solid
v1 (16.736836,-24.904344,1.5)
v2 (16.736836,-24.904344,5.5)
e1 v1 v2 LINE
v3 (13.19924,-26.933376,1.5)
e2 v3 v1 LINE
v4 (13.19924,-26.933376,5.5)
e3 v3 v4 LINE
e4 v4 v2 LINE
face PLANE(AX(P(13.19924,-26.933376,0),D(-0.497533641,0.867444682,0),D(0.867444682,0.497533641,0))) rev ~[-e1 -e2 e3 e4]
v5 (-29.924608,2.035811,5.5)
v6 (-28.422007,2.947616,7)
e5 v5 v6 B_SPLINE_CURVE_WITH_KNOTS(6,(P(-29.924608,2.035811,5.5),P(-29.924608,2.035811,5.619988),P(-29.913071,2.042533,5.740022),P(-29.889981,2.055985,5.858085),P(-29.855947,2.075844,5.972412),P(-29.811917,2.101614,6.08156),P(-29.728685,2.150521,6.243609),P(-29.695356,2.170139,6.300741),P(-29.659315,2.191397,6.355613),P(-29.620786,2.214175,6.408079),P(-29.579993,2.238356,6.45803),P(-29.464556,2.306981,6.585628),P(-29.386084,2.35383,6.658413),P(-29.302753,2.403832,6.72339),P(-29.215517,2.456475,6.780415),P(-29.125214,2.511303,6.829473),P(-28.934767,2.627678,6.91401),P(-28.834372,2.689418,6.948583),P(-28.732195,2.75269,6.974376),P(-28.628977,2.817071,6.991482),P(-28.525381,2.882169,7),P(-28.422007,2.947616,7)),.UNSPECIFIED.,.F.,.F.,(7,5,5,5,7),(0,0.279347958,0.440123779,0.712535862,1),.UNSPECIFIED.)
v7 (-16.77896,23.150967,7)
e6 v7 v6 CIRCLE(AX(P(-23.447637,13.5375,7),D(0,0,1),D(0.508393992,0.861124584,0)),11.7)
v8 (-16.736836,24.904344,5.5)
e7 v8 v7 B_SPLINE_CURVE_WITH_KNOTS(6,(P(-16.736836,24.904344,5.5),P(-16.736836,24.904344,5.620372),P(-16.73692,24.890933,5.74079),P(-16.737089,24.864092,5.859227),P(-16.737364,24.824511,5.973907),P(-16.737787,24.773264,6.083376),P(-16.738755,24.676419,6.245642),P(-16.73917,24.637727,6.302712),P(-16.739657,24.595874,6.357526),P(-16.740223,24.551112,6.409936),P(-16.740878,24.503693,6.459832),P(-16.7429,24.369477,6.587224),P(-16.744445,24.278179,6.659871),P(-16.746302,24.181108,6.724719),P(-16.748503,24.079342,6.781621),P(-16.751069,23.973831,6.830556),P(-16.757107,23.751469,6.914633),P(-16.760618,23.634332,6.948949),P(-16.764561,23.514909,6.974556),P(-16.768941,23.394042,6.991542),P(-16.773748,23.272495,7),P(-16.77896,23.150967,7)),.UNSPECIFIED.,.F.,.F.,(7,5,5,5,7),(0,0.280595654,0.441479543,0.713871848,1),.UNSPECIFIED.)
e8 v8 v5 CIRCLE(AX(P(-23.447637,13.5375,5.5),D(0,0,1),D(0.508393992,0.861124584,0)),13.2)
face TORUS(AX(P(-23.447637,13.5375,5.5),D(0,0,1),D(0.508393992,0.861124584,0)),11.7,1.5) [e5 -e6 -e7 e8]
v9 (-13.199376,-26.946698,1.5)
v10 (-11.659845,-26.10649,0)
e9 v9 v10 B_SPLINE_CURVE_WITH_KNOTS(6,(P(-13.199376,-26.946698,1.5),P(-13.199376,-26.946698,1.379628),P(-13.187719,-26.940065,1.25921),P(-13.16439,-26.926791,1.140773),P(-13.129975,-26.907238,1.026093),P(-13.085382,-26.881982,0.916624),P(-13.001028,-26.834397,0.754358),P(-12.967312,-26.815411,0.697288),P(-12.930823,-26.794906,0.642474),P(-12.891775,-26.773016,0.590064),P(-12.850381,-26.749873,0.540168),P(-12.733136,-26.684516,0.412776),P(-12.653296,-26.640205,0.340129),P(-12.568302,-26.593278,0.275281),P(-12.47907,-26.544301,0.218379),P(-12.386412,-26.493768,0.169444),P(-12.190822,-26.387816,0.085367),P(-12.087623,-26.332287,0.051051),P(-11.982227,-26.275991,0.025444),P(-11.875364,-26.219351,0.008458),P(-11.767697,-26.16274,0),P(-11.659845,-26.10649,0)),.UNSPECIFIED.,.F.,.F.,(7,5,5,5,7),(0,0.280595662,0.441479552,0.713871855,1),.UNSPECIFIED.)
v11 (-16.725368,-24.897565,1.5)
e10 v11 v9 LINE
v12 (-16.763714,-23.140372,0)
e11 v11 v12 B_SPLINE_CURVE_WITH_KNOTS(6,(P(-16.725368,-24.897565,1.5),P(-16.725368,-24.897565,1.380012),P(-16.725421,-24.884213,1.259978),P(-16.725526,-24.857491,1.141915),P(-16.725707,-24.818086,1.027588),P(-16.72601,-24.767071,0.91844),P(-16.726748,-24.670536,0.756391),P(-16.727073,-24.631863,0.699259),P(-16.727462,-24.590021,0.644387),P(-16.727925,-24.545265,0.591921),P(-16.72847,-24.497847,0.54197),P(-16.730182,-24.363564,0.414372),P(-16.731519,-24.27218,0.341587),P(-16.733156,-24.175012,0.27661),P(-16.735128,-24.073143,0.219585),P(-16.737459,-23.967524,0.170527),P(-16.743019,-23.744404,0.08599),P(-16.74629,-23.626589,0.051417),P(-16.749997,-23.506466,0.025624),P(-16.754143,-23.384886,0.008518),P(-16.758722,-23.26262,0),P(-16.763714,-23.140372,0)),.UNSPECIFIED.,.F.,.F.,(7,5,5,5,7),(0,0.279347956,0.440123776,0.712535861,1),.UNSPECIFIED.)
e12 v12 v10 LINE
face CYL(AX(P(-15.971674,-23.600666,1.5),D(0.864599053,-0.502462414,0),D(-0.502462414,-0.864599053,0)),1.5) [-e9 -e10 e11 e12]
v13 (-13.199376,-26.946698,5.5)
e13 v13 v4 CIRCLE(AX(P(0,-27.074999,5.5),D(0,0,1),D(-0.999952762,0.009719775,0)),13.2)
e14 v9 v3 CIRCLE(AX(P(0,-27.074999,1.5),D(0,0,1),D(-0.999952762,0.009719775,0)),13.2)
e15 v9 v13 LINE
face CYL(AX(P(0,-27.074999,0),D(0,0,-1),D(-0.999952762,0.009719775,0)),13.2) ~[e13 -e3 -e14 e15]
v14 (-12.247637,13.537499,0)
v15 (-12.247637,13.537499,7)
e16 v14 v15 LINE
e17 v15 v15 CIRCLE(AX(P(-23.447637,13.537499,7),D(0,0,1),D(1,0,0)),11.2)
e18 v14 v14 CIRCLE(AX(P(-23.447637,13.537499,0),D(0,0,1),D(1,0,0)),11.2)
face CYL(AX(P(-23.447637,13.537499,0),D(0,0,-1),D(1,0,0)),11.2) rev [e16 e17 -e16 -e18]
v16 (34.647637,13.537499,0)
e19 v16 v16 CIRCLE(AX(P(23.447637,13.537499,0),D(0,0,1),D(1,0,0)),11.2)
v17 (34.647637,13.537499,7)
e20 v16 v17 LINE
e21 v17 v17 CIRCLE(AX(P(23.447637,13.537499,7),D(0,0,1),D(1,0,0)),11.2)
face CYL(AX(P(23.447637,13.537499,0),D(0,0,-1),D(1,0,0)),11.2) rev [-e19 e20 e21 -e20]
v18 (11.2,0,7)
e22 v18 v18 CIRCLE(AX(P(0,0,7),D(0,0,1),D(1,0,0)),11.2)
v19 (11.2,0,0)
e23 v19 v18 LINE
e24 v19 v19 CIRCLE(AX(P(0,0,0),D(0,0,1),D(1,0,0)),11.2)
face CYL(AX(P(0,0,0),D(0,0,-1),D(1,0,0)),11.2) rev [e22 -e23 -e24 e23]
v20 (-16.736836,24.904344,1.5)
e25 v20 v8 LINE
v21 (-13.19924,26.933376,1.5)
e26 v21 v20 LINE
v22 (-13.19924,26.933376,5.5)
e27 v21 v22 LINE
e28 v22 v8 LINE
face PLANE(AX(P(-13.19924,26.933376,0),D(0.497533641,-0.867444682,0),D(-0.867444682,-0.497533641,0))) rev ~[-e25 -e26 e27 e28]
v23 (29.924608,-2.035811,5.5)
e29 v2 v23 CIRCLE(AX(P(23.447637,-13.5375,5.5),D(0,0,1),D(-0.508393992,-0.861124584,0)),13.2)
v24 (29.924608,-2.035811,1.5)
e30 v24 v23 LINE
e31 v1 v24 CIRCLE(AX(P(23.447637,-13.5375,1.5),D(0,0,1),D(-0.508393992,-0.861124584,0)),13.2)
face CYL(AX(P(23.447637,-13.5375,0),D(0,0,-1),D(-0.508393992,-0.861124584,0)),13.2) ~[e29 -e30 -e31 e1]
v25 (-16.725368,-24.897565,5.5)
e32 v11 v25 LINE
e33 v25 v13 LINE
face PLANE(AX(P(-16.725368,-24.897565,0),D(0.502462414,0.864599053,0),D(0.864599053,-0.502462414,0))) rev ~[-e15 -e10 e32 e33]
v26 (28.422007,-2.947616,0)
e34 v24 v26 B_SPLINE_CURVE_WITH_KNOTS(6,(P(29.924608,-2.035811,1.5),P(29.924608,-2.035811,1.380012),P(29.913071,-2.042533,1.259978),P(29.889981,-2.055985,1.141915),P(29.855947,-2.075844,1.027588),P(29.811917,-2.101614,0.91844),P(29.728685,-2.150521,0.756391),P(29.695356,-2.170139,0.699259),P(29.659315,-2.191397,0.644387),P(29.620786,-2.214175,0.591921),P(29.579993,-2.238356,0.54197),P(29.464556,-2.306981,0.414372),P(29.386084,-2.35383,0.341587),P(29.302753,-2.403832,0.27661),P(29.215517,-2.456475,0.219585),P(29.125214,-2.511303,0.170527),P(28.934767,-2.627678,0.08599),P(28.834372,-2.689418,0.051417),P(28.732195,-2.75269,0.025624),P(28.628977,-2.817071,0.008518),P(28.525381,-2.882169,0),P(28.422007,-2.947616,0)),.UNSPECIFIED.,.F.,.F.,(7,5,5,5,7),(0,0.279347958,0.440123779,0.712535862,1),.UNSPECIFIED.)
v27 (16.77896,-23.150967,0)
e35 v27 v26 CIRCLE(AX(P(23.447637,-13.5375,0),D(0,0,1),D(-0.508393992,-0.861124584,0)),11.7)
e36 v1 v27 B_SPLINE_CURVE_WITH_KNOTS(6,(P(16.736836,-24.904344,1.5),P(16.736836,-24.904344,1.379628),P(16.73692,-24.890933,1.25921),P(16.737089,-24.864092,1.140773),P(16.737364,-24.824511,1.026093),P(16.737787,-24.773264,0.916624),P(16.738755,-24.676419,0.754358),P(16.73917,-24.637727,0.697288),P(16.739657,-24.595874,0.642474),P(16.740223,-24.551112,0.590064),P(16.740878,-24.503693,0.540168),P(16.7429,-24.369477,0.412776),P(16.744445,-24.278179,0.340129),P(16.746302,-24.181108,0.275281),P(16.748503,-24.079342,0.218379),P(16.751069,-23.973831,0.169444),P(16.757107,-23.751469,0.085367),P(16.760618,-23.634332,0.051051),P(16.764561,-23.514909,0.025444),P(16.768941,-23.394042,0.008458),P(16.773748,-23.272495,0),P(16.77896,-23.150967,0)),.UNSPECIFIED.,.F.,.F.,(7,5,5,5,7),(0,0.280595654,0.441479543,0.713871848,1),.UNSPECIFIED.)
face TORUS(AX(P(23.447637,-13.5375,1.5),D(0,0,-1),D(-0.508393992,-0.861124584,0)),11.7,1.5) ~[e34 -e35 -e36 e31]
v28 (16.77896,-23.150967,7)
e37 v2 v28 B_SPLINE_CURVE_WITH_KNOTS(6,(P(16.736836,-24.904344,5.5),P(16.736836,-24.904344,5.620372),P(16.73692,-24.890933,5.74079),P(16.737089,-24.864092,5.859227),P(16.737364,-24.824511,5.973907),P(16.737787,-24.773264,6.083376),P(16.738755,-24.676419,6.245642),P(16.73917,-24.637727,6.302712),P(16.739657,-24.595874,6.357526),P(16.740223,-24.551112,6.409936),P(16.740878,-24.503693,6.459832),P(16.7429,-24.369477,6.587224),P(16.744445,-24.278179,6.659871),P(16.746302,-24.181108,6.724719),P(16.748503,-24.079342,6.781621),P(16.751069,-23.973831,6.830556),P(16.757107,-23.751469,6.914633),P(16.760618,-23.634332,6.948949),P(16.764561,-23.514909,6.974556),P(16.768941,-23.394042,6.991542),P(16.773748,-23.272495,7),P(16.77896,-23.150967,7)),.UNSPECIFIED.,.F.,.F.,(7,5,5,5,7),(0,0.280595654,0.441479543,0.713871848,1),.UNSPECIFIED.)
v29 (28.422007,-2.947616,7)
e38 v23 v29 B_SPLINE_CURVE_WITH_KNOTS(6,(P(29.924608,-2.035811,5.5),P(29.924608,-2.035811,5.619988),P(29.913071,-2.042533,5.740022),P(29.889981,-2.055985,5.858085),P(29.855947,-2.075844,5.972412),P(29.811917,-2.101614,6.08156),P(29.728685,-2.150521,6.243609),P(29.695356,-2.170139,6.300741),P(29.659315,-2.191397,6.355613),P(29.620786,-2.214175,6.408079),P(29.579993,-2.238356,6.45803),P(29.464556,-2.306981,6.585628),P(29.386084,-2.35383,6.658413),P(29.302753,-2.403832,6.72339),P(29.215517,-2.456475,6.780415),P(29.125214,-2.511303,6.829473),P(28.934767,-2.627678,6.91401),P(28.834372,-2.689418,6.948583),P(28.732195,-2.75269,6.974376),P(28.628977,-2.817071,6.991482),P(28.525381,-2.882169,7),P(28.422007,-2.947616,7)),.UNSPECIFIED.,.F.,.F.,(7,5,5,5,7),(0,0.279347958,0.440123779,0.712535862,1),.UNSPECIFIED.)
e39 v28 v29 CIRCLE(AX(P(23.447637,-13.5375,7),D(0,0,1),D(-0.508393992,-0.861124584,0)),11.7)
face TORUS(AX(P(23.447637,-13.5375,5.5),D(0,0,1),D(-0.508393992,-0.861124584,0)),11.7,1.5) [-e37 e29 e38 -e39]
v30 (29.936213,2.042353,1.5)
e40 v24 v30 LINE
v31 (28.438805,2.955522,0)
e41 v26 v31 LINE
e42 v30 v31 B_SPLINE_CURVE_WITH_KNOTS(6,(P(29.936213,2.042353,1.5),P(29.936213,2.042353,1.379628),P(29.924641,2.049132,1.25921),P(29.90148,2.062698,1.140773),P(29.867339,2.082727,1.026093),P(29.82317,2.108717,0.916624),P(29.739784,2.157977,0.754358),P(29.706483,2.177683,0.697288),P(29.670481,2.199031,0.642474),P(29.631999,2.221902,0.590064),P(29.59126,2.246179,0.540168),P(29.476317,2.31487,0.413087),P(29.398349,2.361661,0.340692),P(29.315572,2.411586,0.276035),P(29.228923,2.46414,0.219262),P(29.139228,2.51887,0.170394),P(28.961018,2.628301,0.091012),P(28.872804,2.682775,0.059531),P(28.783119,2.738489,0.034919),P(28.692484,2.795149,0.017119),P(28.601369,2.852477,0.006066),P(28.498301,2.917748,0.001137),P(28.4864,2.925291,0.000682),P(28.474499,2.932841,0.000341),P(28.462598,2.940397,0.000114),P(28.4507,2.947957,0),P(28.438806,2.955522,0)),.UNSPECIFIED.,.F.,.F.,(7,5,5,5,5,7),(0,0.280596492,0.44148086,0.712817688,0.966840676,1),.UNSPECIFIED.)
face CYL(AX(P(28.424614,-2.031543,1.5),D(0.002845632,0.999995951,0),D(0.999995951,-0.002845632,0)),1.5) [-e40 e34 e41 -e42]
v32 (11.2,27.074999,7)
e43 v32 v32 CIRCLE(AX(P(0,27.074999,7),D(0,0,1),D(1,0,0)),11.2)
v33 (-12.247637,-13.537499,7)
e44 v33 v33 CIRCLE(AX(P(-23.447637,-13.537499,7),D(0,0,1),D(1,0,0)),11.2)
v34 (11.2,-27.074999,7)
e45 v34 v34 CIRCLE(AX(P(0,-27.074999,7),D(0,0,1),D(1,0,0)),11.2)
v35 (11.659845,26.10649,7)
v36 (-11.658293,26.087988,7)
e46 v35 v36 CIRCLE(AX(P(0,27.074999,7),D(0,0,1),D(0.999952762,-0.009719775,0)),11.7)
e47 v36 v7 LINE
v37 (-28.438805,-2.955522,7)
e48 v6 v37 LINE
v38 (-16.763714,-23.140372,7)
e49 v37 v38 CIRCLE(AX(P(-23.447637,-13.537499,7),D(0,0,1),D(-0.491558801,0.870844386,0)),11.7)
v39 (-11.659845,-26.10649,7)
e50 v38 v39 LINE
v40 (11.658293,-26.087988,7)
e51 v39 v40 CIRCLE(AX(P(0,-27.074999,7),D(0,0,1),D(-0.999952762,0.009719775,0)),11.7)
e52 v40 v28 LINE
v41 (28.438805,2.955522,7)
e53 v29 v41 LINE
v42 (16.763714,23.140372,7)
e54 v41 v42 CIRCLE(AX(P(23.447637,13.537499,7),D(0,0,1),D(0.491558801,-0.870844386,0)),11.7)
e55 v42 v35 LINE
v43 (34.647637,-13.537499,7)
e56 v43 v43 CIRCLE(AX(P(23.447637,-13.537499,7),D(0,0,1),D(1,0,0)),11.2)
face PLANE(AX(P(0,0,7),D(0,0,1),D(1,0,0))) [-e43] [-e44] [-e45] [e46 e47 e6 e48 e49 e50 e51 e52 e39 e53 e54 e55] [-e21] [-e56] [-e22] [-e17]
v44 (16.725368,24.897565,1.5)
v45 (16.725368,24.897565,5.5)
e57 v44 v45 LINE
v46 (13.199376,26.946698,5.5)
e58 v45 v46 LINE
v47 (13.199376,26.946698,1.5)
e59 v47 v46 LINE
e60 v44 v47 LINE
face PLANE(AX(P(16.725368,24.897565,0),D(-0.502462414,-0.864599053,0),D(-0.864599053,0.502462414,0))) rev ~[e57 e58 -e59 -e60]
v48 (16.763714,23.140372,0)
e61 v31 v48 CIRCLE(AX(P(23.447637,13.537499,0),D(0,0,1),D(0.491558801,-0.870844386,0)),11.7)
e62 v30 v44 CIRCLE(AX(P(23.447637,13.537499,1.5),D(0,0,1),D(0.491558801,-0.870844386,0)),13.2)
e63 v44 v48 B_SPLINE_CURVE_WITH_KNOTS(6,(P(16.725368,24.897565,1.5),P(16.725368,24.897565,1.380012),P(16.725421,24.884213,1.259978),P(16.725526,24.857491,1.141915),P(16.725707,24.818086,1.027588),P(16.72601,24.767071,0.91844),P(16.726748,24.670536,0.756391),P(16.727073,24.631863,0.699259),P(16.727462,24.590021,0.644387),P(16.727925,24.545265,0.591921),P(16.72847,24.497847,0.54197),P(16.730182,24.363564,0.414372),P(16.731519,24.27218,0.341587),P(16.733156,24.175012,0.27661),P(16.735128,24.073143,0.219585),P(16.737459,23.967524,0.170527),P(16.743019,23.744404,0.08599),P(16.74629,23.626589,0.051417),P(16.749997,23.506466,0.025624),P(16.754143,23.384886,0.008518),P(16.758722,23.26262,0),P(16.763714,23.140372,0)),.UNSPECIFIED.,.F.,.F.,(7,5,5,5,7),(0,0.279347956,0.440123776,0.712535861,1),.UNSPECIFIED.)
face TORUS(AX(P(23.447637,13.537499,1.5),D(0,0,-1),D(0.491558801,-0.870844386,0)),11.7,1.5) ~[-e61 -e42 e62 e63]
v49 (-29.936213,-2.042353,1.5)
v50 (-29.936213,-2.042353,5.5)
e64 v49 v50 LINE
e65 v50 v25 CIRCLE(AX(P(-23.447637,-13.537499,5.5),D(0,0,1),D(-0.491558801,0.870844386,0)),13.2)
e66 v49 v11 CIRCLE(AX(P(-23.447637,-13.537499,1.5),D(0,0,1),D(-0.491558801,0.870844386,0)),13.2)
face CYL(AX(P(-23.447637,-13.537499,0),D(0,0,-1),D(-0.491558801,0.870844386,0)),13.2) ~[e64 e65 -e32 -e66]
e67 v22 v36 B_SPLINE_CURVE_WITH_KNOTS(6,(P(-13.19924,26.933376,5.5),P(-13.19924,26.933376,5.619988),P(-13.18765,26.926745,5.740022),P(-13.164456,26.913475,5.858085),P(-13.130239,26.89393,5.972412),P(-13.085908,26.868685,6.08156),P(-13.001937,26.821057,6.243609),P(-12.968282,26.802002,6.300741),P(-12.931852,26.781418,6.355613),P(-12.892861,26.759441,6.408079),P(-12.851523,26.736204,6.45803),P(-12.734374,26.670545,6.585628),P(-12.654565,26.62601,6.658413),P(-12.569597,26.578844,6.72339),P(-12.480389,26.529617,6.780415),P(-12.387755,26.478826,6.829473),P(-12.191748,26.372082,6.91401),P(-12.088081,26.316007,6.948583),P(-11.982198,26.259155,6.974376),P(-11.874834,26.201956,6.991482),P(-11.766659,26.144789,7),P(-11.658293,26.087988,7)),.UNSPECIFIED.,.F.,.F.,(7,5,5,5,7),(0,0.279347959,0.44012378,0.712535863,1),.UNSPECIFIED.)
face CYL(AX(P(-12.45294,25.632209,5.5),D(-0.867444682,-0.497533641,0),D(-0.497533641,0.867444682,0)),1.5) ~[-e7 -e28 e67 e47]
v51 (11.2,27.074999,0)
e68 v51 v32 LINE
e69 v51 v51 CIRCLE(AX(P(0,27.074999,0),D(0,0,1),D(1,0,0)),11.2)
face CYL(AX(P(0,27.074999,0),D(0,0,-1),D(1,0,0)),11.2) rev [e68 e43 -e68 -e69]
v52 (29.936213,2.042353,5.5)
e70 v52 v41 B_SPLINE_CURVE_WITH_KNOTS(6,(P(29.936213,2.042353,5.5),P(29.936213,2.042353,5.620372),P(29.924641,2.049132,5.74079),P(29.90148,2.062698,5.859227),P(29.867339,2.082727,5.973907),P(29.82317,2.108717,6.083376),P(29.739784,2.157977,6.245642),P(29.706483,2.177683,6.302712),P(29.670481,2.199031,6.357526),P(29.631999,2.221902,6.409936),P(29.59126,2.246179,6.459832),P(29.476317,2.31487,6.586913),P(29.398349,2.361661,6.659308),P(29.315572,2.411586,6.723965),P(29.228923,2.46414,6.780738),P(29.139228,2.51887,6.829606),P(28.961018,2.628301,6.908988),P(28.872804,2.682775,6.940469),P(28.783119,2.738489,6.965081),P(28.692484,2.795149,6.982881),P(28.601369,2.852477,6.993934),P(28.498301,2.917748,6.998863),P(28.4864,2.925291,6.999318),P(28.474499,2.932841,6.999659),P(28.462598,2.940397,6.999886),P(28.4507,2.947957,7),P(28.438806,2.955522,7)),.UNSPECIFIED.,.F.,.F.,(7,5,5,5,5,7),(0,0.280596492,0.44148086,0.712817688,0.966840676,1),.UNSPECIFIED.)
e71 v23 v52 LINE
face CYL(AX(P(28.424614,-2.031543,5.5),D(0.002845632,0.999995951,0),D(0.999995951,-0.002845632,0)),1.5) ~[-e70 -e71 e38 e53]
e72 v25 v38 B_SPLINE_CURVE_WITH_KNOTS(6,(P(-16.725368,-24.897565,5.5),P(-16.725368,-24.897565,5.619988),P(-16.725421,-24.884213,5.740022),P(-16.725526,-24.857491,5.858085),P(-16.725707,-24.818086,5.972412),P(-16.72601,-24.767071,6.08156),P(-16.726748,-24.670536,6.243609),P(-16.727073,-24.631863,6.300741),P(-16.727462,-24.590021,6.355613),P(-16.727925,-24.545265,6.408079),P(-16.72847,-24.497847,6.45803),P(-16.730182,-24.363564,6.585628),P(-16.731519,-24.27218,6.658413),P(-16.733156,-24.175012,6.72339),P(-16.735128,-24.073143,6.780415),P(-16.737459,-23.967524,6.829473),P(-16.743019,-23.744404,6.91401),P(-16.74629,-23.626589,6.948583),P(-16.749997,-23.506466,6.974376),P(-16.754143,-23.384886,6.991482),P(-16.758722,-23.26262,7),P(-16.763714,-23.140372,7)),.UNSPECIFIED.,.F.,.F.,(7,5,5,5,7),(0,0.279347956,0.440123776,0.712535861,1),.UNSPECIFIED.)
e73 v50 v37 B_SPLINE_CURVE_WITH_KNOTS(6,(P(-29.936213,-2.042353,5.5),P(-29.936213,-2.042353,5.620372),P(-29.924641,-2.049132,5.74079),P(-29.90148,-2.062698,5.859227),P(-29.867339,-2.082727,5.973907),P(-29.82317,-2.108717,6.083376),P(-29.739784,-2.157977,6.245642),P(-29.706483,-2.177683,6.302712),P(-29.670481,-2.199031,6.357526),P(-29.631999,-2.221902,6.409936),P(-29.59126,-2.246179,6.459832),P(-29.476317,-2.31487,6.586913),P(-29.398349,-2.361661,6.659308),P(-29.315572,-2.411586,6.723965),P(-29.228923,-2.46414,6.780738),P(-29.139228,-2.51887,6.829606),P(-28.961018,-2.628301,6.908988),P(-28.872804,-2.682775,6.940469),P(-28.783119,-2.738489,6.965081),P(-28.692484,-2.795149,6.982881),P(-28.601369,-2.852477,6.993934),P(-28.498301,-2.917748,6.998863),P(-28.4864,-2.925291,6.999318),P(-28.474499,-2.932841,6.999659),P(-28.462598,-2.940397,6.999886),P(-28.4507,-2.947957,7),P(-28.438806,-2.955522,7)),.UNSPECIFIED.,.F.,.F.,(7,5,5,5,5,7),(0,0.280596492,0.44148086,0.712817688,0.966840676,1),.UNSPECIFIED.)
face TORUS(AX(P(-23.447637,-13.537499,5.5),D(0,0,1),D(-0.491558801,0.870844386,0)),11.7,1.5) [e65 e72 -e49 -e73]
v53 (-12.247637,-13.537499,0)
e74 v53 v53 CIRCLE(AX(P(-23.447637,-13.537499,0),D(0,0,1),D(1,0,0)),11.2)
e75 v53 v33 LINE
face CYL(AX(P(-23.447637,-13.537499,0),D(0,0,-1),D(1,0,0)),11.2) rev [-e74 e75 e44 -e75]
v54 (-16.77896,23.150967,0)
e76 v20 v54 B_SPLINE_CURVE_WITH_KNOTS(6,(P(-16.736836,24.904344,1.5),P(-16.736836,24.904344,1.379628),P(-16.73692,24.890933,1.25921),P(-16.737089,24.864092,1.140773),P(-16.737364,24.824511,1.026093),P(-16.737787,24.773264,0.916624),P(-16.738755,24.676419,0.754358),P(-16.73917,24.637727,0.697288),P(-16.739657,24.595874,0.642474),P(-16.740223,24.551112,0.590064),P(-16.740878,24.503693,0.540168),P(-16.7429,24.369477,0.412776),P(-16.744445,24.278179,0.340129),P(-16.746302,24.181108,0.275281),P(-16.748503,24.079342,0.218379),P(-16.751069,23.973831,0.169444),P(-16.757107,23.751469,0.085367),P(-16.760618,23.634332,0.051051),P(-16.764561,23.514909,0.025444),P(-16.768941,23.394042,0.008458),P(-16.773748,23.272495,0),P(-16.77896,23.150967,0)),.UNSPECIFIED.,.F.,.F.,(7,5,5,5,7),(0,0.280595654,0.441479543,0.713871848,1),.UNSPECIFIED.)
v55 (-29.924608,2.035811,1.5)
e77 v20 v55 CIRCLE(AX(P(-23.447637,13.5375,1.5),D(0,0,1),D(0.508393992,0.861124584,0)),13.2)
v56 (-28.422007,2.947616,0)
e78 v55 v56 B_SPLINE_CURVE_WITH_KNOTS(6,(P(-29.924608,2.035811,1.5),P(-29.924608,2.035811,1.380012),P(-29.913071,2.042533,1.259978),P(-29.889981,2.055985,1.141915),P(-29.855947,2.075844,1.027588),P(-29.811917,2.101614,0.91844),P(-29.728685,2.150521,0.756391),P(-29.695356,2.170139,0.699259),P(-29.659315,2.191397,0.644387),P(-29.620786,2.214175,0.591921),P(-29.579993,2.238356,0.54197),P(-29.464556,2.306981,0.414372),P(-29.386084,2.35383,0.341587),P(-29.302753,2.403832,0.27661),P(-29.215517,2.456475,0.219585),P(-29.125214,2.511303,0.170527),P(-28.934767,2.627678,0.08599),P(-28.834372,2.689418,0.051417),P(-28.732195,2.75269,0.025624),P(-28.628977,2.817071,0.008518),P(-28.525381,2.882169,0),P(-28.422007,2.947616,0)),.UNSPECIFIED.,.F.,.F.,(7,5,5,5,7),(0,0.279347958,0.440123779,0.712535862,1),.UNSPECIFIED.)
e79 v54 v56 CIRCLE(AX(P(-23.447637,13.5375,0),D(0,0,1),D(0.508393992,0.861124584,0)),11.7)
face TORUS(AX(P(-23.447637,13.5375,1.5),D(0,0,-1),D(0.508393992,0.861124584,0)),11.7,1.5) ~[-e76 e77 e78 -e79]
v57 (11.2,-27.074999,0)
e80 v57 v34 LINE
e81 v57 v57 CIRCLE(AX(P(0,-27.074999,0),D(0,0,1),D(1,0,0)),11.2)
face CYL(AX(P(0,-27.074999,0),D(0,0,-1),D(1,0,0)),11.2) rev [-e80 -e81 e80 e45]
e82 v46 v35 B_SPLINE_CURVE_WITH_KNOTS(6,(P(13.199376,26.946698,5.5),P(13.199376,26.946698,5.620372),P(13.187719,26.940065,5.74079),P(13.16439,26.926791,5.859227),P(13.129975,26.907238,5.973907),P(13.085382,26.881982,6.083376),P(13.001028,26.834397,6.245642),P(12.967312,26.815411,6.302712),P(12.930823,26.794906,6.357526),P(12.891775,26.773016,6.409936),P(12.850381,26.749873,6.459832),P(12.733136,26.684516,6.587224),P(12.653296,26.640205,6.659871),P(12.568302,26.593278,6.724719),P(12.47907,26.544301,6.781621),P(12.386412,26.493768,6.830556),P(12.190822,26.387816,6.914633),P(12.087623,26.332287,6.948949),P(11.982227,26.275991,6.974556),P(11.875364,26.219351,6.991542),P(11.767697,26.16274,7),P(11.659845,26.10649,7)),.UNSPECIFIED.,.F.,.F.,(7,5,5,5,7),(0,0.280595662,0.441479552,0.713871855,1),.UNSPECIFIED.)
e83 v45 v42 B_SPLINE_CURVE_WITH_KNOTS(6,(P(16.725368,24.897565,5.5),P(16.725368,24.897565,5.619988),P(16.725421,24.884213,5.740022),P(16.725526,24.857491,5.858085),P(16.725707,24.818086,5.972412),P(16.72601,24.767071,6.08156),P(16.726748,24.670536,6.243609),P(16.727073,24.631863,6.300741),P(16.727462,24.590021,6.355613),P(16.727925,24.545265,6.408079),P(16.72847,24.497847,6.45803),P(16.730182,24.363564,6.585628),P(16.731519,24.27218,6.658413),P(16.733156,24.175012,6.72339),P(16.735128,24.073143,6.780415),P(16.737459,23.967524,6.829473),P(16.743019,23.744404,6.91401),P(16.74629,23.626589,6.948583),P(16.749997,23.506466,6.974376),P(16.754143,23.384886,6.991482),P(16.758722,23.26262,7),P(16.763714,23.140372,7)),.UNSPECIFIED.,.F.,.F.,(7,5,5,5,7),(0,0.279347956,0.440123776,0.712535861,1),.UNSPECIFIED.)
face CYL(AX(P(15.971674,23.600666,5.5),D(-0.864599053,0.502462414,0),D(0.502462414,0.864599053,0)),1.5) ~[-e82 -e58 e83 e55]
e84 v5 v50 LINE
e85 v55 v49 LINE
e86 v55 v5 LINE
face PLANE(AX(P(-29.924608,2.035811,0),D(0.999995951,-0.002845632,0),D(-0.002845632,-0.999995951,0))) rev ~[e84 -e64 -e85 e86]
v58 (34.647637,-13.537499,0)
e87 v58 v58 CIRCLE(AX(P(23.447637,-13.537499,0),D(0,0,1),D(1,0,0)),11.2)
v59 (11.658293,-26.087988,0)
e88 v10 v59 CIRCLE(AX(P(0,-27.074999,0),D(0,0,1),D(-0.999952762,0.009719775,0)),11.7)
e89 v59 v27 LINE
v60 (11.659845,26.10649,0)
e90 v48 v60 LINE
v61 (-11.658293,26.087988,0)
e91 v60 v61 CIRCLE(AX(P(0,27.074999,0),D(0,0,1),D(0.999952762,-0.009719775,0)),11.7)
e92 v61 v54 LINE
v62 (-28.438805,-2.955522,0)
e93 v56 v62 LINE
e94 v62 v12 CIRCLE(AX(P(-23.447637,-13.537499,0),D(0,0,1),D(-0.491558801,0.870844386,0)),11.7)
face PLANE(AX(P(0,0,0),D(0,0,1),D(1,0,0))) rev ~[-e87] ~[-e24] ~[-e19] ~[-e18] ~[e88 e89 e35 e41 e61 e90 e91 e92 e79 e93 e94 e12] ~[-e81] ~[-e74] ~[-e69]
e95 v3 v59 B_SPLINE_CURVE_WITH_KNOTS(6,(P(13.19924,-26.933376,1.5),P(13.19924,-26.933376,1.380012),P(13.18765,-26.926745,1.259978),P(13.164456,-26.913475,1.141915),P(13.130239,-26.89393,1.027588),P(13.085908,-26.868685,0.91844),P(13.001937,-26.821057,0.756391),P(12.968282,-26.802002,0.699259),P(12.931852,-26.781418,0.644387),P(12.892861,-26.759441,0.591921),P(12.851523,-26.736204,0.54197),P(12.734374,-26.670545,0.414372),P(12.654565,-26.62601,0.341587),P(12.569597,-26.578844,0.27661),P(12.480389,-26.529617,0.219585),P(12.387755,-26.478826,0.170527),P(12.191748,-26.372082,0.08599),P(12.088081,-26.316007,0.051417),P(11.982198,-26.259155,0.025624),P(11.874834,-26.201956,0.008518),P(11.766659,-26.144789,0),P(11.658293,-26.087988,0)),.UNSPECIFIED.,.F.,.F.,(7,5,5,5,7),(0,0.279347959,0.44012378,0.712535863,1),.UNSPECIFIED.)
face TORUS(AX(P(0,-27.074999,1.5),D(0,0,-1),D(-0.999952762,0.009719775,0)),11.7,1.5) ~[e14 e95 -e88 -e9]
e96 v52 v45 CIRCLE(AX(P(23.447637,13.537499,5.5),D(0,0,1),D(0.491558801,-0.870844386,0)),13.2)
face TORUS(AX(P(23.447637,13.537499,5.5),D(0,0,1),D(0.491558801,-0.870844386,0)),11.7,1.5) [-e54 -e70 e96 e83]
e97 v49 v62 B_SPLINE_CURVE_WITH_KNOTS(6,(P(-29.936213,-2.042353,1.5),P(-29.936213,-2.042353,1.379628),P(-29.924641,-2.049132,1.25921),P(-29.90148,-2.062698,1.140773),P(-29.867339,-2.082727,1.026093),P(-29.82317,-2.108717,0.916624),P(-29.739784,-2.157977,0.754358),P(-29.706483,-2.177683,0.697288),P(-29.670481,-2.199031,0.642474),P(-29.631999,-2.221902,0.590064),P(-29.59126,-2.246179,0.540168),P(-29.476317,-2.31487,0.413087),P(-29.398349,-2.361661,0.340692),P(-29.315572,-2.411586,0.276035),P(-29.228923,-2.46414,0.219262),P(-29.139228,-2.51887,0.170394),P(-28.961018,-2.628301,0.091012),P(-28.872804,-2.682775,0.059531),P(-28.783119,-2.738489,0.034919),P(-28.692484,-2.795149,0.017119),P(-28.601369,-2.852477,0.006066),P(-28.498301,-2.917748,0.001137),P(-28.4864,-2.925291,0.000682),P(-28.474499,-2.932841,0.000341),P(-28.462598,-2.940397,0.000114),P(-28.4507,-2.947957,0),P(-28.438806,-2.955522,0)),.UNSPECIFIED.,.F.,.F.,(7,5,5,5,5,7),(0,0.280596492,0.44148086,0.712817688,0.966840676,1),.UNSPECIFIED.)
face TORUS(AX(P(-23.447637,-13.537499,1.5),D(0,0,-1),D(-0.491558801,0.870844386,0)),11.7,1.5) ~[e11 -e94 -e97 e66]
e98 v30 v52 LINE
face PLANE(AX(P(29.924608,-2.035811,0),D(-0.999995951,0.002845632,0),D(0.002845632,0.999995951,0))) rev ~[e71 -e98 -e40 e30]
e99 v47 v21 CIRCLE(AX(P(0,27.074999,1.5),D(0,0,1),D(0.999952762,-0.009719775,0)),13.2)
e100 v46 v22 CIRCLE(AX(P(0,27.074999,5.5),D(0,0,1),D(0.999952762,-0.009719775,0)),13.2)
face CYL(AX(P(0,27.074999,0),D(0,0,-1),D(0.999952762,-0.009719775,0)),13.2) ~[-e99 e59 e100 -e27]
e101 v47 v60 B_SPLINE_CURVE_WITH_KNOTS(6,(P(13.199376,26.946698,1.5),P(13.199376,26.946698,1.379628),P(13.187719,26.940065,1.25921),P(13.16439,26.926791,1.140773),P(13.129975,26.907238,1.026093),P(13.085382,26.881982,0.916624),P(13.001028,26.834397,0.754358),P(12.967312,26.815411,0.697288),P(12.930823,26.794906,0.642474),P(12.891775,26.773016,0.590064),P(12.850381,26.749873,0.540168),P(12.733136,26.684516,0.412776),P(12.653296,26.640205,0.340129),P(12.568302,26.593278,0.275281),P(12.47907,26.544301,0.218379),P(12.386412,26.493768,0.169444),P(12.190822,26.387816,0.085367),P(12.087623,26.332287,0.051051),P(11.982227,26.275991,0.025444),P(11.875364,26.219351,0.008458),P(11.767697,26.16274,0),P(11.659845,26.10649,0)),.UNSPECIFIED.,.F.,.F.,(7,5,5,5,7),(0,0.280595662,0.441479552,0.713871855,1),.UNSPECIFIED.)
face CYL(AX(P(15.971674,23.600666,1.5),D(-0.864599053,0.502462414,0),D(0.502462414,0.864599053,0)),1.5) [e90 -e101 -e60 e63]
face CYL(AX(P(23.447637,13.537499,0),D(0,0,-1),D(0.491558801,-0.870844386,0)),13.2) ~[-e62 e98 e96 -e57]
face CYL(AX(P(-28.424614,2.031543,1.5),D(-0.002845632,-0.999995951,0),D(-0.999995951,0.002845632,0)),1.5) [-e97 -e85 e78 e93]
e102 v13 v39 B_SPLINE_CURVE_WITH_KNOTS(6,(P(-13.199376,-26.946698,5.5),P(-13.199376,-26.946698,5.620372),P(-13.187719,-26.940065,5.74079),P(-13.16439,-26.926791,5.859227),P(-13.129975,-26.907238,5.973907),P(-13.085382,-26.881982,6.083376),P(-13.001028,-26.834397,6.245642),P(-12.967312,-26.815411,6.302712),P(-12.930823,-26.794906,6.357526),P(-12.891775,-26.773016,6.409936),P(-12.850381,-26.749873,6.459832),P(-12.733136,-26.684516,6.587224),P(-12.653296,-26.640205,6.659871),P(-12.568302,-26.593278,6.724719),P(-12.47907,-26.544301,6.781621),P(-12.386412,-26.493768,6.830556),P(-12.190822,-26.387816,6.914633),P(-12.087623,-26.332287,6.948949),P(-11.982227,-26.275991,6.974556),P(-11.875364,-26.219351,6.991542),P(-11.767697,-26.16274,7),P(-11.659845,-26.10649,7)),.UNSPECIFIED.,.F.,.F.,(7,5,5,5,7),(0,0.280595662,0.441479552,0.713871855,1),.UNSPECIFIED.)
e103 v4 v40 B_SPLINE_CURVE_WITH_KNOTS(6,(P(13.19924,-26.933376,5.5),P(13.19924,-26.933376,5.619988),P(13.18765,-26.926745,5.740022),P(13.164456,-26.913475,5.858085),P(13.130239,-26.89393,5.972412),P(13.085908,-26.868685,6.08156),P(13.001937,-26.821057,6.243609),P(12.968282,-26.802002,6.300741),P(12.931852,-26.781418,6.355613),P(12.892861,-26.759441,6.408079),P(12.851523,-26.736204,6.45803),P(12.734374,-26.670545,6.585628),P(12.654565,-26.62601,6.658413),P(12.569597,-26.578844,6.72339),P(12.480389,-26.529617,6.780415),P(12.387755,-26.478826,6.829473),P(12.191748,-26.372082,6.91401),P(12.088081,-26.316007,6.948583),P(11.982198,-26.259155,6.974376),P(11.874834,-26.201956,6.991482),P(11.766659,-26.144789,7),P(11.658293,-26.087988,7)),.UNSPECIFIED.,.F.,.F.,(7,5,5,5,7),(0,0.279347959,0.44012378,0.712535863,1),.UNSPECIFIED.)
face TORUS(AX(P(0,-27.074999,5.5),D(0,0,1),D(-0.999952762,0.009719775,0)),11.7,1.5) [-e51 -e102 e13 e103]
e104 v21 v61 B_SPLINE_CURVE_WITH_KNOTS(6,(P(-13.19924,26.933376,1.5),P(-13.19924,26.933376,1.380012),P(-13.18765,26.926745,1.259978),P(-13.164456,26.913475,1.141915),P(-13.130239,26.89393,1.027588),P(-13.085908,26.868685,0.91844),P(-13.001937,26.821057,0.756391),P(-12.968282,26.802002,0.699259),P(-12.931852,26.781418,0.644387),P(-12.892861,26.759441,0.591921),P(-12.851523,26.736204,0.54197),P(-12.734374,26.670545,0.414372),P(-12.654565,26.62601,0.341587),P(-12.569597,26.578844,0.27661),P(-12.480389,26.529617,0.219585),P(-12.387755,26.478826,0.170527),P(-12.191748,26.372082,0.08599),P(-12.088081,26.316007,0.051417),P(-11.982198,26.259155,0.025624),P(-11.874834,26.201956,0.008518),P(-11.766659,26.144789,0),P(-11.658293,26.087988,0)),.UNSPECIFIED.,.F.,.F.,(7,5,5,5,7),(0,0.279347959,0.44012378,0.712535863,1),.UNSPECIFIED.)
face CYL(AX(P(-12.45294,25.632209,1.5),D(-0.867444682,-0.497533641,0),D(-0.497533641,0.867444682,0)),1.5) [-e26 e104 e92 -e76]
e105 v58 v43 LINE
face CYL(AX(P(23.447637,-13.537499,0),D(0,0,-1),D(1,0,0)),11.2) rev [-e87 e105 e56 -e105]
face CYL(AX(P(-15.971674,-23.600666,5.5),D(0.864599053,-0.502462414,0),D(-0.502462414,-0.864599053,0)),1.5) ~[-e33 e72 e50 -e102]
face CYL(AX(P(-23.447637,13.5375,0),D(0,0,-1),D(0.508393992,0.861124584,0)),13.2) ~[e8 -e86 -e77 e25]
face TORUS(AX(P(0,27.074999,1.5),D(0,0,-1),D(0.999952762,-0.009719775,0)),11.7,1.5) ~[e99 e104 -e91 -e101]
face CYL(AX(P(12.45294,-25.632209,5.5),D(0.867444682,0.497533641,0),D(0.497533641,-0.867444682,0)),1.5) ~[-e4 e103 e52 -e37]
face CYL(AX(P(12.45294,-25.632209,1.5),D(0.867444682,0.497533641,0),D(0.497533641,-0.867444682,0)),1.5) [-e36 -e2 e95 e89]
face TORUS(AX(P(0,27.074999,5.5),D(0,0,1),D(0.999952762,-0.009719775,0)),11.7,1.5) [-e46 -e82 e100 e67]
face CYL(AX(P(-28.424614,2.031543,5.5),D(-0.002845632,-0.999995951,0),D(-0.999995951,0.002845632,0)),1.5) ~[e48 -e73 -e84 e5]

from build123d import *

# Parameters (mm, degrees)
F0_R     = 11.2
F1_DEPTH = 7
F2_R     = 1.5


with BuildPart() as f1:
    # F0 (on Top) → F1 (new body)
    with BuildSketch(Plane.XY):
        with BuildLine():
            Line((16.725368, 24.897565), (13.199376, 26.946698))
            ThreePointArc((13.199376, 26.946698), (-0.006661, 40.274997), (-13.19924, 26.933376))
            Line((-13.19924, 26.933376), (-16.736836, 24.904344))
            ThreePointArc((-16.736836, 24.904344), (-34.882501, 20.13173), (-29.924608, 2.035811))
            Line((-29.924608, 2.035811), (-29.936213, -2.042353))
            ThreePointArc((-29.936213, -2.042353), (-34.87584, -20.143267), (-16.725368, -24.897565))
            Line((-16.725368, -24.897565), (-13.199376, -26.946698))
            ThreePointArc((-13.199376, -26.946698), (0.006661, -40.274997), (13.19924, -26.933376))
            Line((13.19924, -26.933376), (16.736836, -24.904344))
            ThreePointArc((16.736836, -24.904344), (34.882501, -20.13173), (29.924608, -2.035811))
            Line((29.924608, -2.035811), (29.936213, 2.042353))
            ThreePointArc((29.936213, 2.042353), (34.87584, 20.143267), (16.725368, 24.897565))
        make_face()
        with Locations((-23.447637, -13.537499)):
            Circle(F0_R, mode=Mode.SUBTRACT)
        with Locations((0, -27.074999)):
            Circle(F0_R, mode=Mode.SUBTRACT)
        with Locations((23.447637, -13.537499)):
            Circle(F0_R, mode=Mode.SUBTRACT)
        with Locations((-23.447637, 13.537499)):
            Circle(F0_R, mode=Mode.SUBTRACT)
        Circle(F0_R, mode=Mode.SUBTRACT)
        with Locations((23.447637, 13.537499)):
            Circle(F0_R, mode=Mode.SUBTRACT)
        with Locations((0, 27.074999)):
            Circle(F0_R, mode=Mode.SUBTRACT)
    extrude(amount=F1_DEPTH)

    # F2
    f2_edges = [f1.edges().sort_by_distance(p)[0] for p in [
        (-0.006661, 40.274997, 0),
        (-14.968038, 25.91886, 0),
        (-34.882501, 20.13173, 0),
        (-29.93041, -0.003271, 0),
        (-34.87584, -20.143267, 0),
        (-14.962372, -25.922131, 0),
        (0.006661, -40.274997, 0),
        (14.968038, -25.91886, 0),
        (34.882501, -20.13173, 0),
        (34.87584, 20.143267, 0),
        (14.962372, 25.922131, 0),
        (29.93041, 0.003271, 0),
        (-14.968038, 25.91886, 7),
        (-0.006661, 40.274997, 7),
        (14.962372, 25.922131, 7),
        (34.87584, 20.143267, 7),
        (29.93041, 0.003271, 7),
        (34.882501, -20.13173, 7),
        (14.968038, -25.91886, 7),
        (0.006661, -40.274997, 7),
        (-14.962372, -25.922131, 7),
        (-34.87584, -20.143267, 7),
        (-29.93041, -0.003271, 7),
        (-34.882501, 20.13173, 7),
    ]]
    fillet(f2_edges, radius=F2_R)


solid = f1.part
